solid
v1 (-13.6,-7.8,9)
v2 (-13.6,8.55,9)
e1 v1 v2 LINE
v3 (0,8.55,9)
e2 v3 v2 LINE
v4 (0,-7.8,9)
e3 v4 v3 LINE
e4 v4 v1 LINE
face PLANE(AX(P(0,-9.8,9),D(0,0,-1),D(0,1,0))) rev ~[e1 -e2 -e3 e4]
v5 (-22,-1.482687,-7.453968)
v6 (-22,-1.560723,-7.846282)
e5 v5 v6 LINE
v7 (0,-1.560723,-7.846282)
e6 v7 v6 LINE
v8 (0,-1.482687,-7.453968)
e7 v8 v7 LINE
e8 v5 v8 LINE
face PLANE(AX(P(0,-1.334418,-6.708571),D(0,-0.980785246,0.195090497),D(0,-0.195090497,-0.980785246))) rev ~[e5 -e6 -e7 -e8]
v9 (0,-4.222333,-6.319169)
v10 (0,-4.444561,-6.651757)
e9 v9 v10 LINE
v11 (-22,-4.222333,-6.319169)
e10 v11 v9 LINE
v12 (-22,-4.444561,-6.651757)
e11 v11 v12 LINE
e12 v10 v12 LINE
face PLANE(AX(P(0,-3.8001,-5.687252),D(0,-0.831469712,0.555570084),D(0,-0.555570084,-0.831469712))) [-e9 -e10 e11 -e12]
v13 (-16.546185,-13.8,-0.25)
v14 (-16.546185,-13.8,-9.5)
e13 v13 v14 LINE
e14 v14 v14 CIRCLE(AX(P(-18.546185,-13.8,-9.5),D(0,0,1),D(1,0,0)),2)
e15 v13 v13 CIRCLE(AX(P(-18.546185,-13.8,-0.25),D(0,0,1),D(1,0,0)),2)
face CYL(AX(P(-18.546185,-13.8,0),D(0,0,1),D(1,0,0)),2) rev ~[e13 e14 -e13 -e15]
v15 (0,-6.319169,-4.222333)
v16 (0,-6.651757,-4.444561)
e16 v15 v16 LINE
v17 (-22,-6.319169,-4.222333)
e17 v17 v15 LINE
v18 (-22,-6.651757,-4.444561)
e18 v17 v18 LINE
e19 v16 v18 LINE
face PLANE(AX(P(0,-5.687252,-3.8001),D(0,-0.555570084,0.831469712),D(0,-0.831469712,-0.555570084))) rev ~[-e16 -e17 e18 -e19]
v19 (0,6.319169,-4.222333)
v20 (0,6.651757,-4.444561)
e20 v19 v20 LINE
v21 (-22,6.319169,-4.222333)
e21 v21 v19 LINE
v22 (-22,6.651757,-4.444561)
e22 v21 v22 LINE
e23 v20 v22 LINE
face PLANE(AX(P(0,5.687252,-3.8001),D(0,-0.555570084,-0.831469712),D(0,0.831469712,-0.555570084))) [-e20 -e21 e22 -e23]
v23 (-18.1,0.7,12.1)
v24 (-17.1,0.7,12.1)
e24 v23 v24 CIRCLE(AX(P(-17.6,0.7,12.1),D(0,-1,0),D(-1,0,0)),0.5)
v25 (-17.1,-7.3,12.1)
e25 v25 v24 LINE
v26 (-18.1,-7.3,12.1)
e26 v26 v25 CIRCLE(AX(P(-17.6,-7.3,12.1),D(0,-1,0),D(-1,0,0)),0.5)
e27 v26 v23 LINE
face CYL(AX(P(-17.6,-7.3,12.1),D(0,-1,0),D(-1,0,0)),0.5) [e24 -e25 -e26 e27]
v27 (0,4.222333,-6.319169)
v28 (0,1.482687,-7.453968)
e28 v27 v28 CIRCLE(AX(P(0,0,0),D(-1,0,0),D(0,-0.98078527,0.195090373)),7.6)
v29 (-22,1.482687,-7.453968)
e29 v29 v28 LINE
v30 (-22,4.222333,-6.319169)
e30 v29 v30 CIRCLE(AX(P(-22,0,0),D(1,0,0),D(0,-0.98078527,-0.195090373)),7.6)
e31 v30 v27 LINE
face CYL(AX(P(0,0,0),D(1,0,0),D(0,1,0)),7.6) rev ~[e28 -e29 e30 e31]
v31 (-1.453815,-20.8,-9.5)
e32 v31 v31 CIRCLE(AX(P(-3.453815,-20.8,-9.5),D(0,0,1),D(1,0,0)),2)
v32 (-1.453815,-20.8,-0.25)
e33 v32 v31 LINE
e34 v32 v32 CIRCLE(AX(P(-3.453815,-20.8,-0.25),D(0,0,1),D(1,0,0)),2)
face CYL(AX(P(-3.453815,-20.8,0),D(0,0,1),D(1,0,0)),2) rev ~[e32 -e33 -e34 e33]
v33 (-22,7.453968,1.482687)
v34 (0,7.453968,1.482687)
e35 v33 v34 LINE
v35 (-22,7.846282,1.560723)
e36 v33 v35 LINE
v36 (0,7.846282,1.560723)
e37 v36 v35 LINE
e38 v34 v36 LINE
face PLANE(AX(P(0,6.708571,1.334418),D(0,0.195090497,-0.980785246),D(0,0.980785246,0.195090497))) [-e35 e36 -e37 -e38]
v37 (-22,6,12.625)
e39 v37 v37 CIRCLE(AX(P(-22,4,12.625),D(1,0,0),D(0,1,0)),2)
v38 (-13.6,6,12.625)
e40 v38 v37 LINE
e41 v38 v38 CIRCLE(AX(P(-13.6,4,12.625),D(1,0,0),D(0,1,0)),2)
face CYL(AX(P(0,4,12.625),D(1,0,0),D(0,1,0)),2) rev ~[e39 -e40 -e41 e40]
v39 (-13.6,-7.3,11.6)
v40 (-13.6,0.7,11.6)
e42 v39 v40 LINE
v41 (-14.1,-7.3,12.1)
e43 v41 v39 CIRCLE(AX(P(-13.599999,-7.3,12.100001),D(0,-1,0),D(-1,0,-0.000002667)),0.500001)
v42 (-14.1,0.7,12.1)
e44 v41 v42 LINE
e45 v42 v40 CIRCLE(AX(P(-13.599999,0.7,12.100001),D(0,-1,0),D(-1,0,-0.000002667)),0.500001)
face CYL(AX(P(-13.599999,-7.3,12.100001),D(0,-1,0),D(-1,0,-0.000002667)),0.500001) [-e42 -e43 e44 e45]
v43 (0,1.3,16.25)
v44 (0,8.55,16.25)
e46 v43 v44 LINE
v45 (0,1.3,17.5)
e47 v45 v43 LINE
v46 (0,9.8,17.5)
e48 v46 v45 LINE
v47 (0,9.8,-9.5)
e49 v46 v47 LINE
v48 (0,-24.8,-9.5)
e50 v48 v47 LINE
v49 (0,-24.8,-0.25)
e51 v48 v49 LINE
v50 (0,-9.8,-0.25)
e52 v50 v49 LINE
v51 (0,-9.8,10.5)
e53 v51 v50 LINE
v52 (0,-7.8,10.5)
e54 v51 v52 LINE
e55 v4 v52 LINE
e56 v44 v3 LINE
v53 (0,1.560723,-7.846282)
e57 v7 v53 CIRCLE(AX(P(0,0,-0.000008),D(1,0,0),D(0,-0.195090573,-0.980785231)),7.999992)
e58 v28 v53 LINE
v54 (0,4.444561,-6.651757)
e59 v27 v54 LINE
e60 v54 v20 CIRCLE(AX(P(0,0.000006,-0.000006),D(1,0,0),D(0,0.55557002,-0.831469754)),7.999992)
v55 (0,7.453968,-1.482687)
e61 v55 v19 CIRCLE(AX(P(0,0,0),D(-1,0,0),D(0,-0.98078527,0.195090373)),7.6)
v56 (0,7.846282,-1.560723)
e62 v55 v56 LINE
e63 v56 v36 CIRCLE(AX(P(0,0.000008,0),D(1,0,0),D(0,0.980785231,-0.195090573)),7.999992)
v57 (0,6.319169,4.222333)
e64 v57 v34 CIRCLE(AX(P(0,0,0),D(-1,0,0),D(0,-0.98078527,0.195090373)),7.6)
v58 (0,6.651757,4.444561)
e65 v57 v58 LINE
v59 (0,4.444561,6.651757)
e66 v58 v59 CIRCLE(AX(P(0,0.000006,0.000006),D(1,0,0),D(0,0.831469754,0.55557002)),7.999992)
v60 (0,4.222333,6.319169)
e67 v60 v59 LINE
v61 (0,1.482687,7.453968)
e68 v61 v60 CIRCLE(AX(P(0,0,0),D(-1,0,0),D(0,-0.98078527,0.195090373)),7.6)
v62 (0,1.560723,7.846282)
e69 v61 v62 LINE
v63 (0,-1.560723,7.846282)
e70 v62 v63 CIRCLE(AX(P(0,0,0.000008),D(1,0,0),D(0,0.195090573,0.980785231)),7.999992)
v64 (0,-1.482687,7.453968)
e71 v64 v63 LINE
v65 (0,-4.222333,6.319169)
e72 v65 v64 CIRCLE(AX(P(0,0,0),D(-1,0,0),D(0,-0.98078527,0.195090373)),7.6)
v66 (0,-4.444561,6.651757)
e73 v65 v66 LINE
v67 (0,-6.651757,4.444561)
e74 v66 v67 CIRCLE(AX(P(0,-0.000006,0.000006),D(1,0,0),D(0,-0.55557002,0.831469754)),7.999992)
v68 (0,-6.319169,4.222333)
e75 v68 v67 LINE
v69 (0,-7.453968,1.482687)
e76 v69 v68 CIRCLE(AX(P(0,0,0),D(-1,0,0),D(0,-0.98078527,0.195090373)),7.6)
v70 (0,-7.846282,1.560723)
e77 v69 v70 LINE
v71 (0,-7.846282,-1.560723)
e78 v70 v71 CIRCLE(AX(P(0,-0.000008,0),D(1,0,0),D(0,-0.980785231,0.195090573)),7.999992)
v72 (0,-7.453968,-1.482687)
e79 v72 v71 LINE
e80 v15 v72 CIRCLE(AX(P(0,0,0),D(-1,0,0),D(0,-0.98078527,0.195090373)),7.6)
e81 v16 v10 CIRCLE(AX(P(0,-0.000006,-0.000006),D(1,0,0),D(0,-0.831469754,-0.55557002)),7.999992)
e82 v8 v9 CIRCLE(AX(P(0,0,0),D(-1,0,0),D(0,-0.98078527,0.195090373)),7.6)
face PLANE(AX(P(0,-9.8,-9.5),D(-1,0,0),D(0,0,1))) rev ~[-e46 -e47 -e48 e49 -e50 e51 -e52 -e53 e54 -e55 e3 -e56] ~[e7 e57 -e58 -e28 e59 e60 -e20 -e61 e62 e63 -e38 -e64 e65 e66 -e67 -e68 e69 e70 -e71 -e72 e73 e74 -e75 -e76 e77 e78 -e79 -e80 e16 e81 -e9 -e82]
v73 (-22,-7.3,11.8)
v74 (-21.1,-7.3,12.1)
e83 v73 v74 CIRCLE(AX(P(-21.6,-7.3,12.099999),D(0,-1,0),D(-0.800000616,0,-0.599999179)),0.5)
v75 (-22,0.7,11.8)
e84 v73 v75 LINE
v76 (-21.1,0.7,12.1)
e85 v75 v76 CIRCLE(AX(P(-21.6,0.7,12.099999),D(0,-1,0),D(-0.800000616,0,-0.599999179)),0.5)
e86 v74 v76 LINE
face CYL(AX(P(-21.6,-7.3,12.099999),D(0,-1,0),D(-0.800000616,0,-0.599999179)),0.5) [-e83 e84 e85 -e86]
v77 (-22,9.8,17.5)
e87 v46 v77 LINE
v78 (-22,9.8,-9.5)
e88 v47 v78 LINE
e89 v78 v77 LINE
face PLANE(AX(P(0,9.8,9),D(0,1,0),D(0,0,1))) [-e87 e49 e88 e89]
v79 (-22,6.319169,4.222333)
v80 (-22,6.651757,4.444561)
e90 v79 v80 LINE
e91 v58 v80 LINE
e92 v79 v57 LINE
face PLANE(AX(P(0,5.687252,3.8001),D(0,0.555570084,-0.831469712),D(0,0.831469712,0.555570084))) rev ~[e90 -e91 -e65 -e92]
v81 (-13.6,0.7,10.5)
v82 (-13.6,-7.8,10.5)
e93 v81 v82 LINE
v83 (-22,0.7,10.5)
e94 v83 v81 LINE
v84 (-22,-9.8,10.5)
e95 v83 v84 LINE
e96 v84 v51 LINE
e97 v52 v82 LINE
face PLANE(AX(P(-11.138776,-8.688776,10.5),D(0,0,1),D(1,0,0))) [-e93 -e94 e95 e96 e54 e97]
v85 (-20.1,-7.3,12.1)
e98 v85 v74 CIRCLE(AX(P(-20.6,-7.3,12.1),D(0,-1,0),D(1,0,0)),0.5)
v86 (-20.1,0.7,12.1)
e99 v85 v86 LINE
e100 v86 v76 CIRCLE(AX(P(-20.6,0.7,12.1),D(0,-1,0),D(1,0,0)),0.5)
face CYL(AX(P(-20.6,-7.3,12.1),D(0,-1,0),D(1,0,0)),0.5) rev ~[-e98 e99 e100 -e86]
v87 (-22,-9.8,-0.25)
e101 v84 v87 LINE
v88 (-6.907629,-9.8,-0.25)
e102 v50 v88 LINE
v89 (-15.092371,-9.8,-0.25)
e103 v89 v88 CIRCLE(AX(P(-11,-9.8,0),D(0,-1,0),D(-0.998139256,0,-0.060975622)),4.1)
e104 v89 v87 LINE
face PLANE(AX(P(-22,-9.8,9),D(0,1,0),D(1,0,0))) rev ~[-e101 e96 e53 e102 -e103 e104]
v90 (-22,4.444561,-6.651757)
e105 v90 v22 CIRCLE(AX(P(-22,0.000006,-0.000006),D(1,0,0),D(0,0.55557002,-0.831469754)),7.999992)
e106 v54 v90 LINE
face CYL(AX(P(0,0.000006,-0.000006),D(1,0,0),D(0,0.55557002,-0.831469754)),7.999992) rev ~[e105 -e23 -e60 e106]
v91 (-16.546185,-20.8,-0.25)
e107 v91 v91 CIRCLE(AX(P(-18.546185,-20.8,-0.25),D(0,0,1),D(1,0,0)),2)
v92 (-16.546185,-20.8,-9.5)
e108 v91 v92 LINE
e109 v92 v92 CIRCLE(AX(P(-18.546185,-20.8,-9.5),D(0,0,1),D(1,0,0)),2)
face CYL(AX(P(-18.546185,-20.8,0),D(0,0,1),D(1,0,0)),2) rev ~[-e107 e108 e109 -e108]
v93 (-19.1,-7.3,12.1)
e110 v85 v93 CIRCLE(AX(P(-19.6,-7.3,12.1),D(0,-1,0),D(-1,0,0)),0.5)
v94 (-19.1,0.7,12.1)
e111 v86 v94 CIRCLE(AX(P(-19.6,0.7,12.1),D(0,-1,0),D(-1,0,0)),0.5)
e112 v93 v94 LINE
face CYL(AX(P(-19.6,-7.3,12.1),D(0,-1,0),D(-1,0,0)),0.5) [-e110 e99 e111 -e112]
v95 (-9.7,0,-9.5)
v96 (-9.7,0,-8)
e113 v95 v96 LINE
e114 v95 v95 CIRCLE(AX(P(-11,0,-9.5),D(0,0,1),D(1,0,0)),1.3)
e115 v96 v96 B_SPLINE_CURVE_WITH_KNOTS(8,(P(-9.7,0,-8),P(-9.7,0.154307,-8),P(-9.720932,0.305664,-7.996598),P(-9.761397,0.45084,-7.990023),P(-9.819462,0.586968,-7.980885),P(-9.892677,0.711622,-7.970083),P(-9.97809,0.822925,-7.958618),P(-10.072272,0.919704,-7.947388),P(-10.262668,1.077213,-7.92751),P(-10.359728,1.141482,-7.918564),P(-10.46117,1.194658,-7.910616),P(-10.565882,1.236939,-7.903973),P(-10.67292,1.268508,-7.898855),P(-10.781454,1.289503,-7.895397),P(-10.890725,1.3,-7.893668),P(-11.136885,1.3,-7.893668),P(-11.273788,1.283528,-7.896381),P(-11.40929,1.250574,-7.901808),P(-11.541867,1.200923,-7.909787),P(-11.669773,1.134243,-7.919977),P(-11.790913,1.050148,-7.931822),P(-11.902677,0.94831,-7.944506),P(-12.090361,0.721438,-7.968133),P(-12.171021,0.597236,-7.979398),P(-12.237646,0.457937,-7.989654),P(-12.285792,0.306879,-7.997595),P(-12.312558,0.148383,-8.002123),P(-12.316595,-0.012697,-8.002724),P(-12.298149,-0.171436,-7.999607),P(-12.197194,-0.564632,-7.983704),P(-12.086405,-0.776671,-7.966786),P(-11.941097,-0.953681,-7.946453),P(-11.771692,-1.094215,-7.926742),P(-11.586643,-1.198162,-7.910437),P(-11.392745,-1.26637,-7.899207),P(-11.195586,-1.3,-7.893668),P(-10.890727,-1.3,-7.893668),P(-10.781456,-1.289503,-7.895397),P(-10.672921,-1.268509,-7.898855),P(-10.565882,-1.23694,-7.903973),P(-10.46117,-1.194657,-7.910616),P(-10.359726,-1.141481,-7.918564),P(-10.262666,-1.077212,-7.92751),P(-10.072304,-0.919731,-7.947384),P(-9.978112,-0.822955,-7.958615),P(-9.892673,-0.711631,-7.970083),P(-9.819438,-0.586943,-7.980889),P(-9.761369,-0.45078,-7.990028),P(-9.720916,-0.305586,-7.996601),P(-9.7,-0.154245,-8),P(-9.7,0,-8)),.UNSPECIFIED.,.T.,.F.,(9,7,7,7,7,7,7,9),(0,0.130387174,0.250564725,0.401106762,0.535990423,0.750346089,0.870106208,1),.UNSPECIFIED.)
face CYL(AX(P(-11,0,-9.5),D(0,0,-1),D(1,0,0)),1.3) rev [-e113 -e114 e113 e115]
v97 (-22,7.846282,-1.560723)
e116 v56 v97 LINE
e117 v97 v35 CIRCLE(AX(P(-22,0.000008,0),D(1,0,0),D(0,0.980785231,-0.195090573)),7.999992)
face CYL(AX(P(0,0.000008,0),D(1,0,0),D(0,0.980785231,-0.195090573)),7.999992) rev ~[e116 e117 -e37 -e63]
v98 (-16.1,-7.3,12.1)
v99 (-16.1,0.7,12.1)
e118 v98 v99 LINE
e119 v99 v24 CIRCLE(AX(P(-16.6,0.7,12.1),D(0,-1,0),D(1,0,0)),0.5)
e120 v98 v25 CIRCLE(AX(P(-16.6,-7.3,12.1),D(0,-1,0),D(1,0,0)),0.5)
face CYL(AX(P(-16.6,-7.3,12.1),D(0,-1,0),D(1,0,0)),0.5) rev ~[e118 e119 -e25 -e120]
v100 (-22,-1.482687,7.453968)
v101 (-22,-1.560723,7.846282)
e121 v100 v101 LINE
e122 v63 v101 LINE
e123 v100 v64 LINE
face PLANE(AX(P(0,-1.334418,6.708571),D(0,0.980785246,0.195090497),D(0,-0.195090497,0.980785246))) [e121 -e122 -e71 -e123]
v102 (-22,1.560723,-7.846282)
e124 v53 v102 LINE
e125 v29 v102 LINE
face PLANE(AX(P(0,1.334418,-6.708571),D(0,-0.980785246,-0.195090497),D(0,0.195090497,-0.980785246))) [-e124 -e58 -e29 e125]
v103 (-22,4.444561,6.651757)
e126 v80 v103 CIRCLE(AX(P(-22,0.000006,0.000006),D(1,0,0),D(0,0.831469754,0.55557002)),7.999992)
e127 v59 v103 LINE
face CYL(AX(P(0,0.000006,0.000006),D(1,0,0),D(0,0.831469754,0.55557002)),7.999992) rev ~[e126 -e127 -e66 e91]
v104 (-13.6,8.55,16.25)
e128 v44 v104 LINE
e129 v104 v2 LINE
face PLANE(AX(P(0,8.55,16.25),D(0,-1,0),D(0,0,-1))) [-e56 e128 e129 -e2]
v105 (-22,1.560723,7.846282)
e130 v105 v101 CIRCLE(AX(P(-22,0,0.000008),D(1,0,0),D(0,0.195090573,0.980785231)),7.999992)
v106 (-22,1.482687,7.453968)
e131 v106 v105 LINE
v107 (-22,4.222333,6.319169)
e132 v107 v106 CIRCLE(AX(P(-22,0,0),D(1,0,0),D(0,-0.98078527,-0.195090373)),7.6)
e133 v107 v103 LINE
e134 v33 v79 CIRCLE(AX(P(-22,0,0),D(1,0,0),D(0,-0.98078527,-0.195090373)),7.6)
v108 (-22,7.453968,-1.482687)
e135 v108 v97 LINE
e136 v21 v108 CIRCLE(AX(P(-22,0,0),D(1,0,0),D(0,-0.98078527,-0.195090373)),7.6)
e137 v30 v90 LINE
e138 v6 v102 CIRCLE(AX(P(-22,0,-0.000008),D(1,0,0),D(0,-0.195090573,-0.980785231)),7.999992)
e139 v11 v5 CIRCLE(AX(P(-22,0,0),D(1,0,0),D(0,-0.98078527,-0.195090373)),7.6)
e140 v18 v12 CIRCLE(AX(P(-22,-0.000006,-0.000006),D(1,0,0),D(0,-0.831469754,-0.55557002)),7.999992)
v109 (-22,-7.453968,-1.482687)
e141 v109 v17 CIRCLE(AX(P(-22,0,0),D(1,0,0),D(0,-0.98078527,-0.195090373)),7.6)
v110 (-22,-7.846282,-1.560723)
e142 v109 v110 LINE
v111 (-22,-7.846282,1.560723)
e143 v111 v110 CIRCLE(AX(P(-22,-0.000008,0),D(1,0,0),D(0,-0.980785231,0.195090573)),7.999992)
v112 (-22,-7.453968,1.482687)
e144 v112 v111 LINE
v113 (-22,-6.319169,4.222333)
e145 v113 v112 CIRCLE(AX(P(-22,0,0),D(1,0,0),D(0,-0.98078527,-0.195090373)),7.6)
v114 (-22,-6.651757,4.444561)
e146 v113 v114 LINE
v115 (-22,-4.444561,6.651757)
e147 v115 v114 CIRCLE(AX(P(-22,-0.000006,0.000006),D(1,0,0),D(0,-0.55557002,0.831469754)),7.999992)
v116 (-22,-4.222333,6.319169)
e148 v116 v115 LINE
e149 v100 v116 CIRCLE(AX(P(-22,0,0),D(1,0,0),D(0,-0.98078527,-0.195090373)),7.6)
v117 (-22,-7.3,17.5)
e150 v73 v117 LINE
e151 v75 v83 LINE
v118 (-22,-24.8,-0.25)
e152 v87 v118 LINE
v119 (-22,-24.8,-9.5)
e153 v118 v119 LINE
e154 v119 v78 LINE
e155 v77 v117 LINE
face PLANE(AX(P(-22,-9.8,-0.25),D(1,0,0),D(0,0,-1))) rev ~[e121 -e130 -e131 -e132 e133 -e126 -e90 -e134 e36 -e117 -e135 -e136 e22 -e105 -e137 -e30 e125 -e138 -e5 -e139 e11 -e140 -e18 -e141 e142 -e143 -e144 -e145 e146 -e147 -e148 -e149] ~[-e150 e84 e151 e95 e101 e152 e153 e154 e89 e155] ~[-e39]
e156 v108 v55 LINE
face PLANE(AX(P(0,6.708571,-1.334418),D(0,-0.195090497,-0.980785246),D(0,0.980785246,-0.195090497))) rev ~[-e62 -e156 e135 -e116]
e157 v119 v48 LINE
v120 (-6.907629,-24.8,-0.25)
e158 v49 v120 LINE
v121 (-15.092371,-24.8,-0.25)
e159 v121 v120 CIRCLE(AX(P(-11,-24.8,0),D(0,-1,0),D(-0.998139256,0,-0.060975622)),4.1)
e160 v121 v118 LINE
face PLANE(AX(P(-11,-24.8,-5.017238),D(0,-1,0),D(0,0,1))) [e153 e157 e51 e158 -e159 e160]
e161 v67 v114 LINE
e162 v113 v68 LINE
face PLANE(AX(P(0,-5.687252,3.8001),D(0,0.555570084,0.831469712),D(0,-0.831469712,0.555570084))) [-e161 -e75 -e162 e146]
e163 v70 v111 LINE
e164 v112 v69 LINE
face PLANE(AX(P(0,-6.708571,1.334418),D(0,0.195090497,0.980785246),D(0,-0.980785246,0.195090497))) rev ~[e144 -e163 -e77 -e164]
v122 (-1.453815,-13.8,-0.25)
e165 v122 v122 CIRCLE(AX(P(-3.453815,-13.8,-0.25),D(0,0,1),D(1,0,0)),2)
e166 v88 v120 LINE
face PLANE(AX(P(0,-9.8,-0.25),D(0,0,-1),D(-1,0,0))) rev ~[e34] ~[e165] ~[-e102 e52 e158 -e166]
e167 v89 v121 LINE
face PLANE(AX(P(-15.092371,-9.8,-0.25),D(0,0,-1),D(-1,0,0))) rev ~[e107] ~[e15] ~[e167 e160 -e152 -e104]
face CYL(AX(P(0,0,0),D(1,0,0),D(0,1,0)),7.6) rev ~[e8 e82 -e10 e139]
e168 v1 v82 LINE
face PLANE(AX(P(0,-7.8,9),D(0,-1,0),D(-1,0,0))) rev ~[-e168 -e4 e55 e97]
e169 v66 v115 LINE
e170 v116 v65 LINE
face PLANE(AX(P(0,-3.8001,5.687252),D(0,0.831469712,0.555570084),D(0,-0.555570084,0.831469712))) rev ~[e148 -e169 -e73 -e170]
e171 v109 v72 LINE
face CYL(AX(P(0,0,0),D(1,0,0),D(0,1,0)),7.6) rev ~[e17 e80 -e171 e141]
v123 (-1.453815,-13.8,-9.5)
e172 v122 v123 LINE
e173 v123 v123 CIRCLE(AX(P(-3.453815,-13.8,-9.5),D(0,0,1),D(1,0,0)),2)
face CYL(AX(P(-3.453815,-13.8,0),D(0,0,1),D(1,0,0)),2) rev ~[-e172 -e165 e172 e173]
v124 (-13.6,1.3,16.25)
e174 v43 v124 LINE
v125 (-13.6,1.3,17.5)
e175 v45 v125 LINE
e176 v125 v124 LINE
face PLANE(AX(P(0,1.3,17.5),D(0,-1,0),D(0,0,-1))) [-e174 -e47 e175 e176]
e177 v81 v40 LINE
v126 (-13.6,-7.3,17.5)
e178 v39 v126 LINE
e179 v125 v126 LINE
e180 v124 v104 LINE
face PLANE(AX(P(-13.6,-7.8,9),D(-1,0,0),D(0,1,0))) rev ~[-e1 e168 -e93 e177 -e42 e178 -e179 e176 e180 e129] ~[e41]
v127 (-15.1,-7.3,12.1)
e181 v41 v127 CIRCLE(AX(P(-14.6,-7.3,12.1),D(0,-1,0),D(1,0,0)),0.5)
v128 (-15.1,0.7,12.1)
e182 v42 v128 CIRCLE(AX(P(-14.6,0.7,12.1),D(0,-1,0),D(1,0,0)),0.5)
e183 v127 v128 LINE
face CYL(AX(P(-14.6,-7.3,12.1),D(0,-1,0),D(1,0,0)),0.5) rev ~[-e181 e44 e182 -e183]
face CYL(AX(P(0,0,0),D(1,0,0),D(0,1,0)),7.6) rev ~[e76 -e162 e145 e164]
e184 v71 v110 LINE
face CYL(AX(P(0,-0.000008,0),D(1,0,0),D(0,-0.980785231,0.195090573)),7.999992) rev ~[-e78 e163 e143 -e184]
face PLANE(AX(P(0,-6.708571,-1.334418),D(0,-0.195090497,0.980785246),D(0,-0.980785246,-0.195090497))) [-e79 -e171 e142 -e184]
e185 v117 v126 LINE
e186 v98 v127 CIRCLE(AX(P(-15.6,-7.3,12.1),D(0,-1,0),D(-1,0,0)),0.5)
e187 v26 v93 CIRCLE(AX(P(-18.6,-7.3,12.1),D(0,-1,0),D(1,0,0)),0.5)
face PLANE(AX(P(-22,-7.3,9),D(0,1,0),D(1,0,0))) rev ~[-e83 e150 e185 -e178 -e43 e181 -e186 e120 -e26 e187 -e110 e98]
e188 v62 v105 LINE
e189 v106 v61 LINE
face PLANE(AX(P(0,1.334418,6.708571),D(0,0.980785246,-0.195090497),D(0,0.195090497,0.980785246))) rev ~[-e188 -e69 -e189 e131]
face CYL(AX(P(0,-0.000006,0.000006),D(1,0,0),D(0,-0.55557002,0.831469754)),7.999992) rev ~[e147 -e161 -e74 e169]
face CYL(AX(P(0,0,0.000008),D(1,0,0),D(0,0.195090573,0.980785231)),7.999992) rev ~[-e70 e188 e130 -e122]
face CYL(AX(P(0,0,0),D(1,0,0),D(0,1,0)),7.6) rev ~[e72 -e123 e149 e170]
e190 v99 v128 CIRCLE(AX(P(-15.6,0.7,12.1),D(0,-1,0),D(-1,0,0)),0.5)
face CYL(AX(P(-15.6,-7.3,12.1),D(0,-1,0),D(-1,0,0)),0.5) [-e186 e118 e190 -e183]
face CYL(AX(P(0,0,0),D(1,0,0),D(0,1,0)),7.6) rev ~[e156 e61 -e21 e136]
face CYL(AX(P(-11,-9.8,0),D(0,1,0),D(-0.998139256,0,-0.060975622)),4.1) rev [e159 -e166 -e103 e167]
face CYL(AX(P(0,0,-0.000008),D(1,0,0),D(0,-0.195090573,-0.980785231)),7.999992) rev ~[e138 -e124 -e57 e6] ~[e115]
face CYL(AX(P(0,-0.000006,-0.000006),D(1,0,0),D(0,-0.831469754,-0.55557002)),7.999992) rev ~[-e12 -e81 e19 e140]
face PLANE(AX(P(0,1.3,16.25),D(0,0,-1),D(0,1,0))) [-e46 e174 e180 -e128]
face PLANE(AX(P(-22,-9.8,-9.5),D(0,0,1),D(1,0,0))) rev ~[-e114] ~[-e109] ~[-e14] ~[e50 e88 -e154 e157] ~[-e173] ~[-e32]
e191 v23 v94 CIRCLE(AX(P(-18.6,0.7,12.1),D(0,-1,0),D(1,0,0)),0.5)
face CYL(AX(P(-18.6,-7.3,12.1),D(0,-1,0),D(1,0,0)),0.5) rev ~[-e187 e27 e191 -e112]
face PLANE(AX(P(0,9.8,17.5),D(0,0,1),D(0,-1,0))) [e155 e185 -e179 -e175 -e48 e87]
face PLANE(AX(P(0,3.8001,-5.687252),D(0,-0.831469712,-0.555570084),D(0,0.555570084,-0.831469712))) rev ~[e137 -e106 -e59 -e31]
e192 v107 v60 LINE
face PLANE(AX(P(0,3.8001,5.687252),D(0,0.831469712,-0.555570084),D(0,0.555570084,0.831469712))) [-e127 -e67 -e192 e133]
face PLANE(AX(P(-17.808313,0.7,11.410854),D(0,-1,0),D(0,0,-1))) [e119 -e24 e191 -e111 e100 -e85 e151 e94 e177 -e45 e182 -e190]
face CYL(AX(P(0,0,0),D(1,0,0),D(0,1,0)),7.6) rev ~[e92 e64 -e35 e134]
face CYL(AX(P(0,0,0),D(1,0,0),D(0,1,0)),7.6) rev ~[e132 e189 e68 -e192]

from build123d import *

# Parameters (mm, degrees)
PAD015_DEPTH       = 15
SKETCH034_R        = 2
POCKET016_DEPTH    = 9.501
SKETCH_W           = 19.6
SKETCH_H           = 18.5
SKETCH_R           = 7.6
PAD_DEPTH          = 22
SKETCH002_W        = 17.1
SKETCH002_H        = 8.4
PAD001_DEPTH       = 8.5
POCKET_DEPTH       = 8
PAD002_DEPTH       = 13.6
SKETCH005_R        = 2
POCKET001_DEPTH    = 22.001
POCKET002_DEPTH    = 101.929968
POLARPATTERN_COUNT = 8
PAD004_DEPTH       = 1.5
SKETCH041_R        = 1.3
POCKET020_DEPTH    = 5


with BuildPart() as body026:
    # Sketch033 (on DatumPlane) → Pad015 (new body)
    with BuildSketch(Plane(origin=(0, -9.8, 0), x_dir=(0, 0, 1), z_dir=(0, -1, 0))):
        with BuildLine():
            Line((-9.5, 0), (-0.25, 0))
            Line((-0.25, 0), (-0.25, 6.907629))
            ThreePointArc((-0.25, 15.092371), (-4.1, 11), (-0.25, 6.907629))
            Line((-0.25, 15.092371), (-0.25, 22))
            Line((-0.25, 22), (-9.5, 22))
            Line((-9.5, 22), (-9.5, 0))
        make_face()
    extrude(amount=PAD015_DEPTH)

    # Sketch034 → Pocket016 (cut, through all)
    with BuildSketch(Plane.XY):
        with Locations((-18.546185, -13.8)):
            Circle(SKETCH034_R)
        with Locations((-3.453815, -13.8)):
            Circle(SKETCH034_R)
        with Locations((-3.453815, -20.8)):
            Circle(SKETCH034_R)
        with Locations((-18.546185, -20.8)):
            Circle(SKETCH034_R)
    extrude(amount=-POCKET016_DEPTH, mode=Mode.SUBTRACT)


with BuildPart() as printable_axisholder_y_fusion:
    # Sketch → Pad (new body)
    with BuildSketch(Plane.YZ):
        with Locations((0, -0.25)):
            Rectangle(SKETCH_W, SKETCH_H)
        Circle(SKETCH_R, mode=Mode.SUBTRACT)
    extrude(amount=-PAD_DEPTH)

    # Sketch002 → Pad001 (join)
    with BuildSketch(Plane(origin=(0, 0, 9), x_dir=(0, -1, 0), z_dir=(0, 0, 1))):
        with Locations((-1.25, -17.8)):
            Rectangle(SKETCH002_W, SKETCH002_H)
    extrude(amount=PAD001_DEPTH)

    # Sketch003 → Pocket (cut)
    with BuildSketch(Plane(origin=(0, -7.3, 0), x_dir=(0, 0, -1), z_dir=(0, -1, 0))):
        with BuildLine():
            Line((-10.5, -22), (-10.5, -13.6))
            Line((-10.5, -13.6), (-11.6, -13.6))
            ThreePointArc((-12.1, -14.1), (-11.746447, -13.953553), (-11.6, -13.6))
            ThreePointArc((-12.1, -14.1), (-12.6, -14.6), (-12.1, -15.1))
            ThreePointArc((-12.1, -16.1), (-11.6, -15.6), (-12.1, -15.1))
            ThreePointArc((-12.1, -16.1), (-12.6, -16.6), (-12.1, -17.1))
            ThreePointArc((-12.1, -18.1), (-11.6, -17.6), (-12.1, -17.1))
            ThreePointArc((-12.1, -18.1), (-12.6, -18.6), (-12.1, -19.1))
            ThreePointArc((-12.1, -20.1), (-11.6, -19.6), (-12.1, -19.1))
            ThreePointArc((-12.1, -20.1), (-12.6, -20.6), (-12.1, -21.1))
            ThreePointArc((-11.8, -22), (-11.625658, -21.441886), (-12.1, -21.1))
            Line((-11.8, -22), (-10.5, -22))
        make_face()
    extrude(amount=-POCKET_DEPTH, mode=Mode.SUBTRACT)

    # Sketch004 (on DatumPlane) → Pad002 (join)
    with BuildSketch(Plane.YZ):
        Polygon((9.8, 17.5), (1.3, 17.5), (1.3, 16.25), (8.55, 16.25), (8.55, 9), (9.8, 9), align=None)
    extrude(amount=-PAD002_DEPTH)

    # Sketch005 (on DatumPlane) → Pocket001 (cut, through all)
    with BuildSketch(Plane.YZ):
        with Locations((4, 12.625)):
            Circle(SKETCH005_R)
    extrude(amount=-POCKET001_DEPTH, mode=Mode.SUBTRACT)

    # Sketch006 (on DatumPlane) → Pocket002 (cut, through all)
    with BuildSketch(Plane.YZ):
        with BuildLine():
            ThreePointArc((-7.846282, 1.560723), (-8, 0), (-7.846282, -1.560723))
            Line((-6.708571, -1.334418), (-7.846282, -1.560723))
            ThreePointArc((-6.708571, 1.334418), (-6.84, 0), (-6.708571, -1.334418))
            Line((-6.708571, 1.334418), (-7.846282, 1.560723))
        make_face()
    pocket002 = extrude(amount=-POCKET002_DEPTH, mode=Mode.SUBTRACT)

    # PolarPattern: Pocket002 ×8 about axis
    polarpattern_axis = Axis((0, 0, 0), (1, 0, 0))
    for i in range(1, POLARPATTERN_COUNT):
        add(pocket002.rotate(polarpattern_axis, i * 360 / POLARPATTERN_COUNT), mode=Mode.SUBTRACT)

    # Sketch010 (on DatumPlane) → Pad004 (join)
    with BuildSketch(Plane.XY.offset(9)):
        Polygon((0, -7.8), (-13.6, -7.8), (-13.6, -7.3), (-22, -7.3), (-22, -9.8), (0, -9.8), align=None)
    extrude(amount=PAD004_DEPTH)

    # Sketch041 → Pocket020 (cut)
    with BuildSketch(Plane.XY.offset(-9.5)):
        with Locations((-11, 0)):
            Circle(SKETCH041_R)
    extrude(amount=POCKET020_DEPTH, mode=Mode.SUBTRACT)

    # Fusion001: union Body026
    add(body026.part)


solid = printable_axisholder_y_fusion.part
